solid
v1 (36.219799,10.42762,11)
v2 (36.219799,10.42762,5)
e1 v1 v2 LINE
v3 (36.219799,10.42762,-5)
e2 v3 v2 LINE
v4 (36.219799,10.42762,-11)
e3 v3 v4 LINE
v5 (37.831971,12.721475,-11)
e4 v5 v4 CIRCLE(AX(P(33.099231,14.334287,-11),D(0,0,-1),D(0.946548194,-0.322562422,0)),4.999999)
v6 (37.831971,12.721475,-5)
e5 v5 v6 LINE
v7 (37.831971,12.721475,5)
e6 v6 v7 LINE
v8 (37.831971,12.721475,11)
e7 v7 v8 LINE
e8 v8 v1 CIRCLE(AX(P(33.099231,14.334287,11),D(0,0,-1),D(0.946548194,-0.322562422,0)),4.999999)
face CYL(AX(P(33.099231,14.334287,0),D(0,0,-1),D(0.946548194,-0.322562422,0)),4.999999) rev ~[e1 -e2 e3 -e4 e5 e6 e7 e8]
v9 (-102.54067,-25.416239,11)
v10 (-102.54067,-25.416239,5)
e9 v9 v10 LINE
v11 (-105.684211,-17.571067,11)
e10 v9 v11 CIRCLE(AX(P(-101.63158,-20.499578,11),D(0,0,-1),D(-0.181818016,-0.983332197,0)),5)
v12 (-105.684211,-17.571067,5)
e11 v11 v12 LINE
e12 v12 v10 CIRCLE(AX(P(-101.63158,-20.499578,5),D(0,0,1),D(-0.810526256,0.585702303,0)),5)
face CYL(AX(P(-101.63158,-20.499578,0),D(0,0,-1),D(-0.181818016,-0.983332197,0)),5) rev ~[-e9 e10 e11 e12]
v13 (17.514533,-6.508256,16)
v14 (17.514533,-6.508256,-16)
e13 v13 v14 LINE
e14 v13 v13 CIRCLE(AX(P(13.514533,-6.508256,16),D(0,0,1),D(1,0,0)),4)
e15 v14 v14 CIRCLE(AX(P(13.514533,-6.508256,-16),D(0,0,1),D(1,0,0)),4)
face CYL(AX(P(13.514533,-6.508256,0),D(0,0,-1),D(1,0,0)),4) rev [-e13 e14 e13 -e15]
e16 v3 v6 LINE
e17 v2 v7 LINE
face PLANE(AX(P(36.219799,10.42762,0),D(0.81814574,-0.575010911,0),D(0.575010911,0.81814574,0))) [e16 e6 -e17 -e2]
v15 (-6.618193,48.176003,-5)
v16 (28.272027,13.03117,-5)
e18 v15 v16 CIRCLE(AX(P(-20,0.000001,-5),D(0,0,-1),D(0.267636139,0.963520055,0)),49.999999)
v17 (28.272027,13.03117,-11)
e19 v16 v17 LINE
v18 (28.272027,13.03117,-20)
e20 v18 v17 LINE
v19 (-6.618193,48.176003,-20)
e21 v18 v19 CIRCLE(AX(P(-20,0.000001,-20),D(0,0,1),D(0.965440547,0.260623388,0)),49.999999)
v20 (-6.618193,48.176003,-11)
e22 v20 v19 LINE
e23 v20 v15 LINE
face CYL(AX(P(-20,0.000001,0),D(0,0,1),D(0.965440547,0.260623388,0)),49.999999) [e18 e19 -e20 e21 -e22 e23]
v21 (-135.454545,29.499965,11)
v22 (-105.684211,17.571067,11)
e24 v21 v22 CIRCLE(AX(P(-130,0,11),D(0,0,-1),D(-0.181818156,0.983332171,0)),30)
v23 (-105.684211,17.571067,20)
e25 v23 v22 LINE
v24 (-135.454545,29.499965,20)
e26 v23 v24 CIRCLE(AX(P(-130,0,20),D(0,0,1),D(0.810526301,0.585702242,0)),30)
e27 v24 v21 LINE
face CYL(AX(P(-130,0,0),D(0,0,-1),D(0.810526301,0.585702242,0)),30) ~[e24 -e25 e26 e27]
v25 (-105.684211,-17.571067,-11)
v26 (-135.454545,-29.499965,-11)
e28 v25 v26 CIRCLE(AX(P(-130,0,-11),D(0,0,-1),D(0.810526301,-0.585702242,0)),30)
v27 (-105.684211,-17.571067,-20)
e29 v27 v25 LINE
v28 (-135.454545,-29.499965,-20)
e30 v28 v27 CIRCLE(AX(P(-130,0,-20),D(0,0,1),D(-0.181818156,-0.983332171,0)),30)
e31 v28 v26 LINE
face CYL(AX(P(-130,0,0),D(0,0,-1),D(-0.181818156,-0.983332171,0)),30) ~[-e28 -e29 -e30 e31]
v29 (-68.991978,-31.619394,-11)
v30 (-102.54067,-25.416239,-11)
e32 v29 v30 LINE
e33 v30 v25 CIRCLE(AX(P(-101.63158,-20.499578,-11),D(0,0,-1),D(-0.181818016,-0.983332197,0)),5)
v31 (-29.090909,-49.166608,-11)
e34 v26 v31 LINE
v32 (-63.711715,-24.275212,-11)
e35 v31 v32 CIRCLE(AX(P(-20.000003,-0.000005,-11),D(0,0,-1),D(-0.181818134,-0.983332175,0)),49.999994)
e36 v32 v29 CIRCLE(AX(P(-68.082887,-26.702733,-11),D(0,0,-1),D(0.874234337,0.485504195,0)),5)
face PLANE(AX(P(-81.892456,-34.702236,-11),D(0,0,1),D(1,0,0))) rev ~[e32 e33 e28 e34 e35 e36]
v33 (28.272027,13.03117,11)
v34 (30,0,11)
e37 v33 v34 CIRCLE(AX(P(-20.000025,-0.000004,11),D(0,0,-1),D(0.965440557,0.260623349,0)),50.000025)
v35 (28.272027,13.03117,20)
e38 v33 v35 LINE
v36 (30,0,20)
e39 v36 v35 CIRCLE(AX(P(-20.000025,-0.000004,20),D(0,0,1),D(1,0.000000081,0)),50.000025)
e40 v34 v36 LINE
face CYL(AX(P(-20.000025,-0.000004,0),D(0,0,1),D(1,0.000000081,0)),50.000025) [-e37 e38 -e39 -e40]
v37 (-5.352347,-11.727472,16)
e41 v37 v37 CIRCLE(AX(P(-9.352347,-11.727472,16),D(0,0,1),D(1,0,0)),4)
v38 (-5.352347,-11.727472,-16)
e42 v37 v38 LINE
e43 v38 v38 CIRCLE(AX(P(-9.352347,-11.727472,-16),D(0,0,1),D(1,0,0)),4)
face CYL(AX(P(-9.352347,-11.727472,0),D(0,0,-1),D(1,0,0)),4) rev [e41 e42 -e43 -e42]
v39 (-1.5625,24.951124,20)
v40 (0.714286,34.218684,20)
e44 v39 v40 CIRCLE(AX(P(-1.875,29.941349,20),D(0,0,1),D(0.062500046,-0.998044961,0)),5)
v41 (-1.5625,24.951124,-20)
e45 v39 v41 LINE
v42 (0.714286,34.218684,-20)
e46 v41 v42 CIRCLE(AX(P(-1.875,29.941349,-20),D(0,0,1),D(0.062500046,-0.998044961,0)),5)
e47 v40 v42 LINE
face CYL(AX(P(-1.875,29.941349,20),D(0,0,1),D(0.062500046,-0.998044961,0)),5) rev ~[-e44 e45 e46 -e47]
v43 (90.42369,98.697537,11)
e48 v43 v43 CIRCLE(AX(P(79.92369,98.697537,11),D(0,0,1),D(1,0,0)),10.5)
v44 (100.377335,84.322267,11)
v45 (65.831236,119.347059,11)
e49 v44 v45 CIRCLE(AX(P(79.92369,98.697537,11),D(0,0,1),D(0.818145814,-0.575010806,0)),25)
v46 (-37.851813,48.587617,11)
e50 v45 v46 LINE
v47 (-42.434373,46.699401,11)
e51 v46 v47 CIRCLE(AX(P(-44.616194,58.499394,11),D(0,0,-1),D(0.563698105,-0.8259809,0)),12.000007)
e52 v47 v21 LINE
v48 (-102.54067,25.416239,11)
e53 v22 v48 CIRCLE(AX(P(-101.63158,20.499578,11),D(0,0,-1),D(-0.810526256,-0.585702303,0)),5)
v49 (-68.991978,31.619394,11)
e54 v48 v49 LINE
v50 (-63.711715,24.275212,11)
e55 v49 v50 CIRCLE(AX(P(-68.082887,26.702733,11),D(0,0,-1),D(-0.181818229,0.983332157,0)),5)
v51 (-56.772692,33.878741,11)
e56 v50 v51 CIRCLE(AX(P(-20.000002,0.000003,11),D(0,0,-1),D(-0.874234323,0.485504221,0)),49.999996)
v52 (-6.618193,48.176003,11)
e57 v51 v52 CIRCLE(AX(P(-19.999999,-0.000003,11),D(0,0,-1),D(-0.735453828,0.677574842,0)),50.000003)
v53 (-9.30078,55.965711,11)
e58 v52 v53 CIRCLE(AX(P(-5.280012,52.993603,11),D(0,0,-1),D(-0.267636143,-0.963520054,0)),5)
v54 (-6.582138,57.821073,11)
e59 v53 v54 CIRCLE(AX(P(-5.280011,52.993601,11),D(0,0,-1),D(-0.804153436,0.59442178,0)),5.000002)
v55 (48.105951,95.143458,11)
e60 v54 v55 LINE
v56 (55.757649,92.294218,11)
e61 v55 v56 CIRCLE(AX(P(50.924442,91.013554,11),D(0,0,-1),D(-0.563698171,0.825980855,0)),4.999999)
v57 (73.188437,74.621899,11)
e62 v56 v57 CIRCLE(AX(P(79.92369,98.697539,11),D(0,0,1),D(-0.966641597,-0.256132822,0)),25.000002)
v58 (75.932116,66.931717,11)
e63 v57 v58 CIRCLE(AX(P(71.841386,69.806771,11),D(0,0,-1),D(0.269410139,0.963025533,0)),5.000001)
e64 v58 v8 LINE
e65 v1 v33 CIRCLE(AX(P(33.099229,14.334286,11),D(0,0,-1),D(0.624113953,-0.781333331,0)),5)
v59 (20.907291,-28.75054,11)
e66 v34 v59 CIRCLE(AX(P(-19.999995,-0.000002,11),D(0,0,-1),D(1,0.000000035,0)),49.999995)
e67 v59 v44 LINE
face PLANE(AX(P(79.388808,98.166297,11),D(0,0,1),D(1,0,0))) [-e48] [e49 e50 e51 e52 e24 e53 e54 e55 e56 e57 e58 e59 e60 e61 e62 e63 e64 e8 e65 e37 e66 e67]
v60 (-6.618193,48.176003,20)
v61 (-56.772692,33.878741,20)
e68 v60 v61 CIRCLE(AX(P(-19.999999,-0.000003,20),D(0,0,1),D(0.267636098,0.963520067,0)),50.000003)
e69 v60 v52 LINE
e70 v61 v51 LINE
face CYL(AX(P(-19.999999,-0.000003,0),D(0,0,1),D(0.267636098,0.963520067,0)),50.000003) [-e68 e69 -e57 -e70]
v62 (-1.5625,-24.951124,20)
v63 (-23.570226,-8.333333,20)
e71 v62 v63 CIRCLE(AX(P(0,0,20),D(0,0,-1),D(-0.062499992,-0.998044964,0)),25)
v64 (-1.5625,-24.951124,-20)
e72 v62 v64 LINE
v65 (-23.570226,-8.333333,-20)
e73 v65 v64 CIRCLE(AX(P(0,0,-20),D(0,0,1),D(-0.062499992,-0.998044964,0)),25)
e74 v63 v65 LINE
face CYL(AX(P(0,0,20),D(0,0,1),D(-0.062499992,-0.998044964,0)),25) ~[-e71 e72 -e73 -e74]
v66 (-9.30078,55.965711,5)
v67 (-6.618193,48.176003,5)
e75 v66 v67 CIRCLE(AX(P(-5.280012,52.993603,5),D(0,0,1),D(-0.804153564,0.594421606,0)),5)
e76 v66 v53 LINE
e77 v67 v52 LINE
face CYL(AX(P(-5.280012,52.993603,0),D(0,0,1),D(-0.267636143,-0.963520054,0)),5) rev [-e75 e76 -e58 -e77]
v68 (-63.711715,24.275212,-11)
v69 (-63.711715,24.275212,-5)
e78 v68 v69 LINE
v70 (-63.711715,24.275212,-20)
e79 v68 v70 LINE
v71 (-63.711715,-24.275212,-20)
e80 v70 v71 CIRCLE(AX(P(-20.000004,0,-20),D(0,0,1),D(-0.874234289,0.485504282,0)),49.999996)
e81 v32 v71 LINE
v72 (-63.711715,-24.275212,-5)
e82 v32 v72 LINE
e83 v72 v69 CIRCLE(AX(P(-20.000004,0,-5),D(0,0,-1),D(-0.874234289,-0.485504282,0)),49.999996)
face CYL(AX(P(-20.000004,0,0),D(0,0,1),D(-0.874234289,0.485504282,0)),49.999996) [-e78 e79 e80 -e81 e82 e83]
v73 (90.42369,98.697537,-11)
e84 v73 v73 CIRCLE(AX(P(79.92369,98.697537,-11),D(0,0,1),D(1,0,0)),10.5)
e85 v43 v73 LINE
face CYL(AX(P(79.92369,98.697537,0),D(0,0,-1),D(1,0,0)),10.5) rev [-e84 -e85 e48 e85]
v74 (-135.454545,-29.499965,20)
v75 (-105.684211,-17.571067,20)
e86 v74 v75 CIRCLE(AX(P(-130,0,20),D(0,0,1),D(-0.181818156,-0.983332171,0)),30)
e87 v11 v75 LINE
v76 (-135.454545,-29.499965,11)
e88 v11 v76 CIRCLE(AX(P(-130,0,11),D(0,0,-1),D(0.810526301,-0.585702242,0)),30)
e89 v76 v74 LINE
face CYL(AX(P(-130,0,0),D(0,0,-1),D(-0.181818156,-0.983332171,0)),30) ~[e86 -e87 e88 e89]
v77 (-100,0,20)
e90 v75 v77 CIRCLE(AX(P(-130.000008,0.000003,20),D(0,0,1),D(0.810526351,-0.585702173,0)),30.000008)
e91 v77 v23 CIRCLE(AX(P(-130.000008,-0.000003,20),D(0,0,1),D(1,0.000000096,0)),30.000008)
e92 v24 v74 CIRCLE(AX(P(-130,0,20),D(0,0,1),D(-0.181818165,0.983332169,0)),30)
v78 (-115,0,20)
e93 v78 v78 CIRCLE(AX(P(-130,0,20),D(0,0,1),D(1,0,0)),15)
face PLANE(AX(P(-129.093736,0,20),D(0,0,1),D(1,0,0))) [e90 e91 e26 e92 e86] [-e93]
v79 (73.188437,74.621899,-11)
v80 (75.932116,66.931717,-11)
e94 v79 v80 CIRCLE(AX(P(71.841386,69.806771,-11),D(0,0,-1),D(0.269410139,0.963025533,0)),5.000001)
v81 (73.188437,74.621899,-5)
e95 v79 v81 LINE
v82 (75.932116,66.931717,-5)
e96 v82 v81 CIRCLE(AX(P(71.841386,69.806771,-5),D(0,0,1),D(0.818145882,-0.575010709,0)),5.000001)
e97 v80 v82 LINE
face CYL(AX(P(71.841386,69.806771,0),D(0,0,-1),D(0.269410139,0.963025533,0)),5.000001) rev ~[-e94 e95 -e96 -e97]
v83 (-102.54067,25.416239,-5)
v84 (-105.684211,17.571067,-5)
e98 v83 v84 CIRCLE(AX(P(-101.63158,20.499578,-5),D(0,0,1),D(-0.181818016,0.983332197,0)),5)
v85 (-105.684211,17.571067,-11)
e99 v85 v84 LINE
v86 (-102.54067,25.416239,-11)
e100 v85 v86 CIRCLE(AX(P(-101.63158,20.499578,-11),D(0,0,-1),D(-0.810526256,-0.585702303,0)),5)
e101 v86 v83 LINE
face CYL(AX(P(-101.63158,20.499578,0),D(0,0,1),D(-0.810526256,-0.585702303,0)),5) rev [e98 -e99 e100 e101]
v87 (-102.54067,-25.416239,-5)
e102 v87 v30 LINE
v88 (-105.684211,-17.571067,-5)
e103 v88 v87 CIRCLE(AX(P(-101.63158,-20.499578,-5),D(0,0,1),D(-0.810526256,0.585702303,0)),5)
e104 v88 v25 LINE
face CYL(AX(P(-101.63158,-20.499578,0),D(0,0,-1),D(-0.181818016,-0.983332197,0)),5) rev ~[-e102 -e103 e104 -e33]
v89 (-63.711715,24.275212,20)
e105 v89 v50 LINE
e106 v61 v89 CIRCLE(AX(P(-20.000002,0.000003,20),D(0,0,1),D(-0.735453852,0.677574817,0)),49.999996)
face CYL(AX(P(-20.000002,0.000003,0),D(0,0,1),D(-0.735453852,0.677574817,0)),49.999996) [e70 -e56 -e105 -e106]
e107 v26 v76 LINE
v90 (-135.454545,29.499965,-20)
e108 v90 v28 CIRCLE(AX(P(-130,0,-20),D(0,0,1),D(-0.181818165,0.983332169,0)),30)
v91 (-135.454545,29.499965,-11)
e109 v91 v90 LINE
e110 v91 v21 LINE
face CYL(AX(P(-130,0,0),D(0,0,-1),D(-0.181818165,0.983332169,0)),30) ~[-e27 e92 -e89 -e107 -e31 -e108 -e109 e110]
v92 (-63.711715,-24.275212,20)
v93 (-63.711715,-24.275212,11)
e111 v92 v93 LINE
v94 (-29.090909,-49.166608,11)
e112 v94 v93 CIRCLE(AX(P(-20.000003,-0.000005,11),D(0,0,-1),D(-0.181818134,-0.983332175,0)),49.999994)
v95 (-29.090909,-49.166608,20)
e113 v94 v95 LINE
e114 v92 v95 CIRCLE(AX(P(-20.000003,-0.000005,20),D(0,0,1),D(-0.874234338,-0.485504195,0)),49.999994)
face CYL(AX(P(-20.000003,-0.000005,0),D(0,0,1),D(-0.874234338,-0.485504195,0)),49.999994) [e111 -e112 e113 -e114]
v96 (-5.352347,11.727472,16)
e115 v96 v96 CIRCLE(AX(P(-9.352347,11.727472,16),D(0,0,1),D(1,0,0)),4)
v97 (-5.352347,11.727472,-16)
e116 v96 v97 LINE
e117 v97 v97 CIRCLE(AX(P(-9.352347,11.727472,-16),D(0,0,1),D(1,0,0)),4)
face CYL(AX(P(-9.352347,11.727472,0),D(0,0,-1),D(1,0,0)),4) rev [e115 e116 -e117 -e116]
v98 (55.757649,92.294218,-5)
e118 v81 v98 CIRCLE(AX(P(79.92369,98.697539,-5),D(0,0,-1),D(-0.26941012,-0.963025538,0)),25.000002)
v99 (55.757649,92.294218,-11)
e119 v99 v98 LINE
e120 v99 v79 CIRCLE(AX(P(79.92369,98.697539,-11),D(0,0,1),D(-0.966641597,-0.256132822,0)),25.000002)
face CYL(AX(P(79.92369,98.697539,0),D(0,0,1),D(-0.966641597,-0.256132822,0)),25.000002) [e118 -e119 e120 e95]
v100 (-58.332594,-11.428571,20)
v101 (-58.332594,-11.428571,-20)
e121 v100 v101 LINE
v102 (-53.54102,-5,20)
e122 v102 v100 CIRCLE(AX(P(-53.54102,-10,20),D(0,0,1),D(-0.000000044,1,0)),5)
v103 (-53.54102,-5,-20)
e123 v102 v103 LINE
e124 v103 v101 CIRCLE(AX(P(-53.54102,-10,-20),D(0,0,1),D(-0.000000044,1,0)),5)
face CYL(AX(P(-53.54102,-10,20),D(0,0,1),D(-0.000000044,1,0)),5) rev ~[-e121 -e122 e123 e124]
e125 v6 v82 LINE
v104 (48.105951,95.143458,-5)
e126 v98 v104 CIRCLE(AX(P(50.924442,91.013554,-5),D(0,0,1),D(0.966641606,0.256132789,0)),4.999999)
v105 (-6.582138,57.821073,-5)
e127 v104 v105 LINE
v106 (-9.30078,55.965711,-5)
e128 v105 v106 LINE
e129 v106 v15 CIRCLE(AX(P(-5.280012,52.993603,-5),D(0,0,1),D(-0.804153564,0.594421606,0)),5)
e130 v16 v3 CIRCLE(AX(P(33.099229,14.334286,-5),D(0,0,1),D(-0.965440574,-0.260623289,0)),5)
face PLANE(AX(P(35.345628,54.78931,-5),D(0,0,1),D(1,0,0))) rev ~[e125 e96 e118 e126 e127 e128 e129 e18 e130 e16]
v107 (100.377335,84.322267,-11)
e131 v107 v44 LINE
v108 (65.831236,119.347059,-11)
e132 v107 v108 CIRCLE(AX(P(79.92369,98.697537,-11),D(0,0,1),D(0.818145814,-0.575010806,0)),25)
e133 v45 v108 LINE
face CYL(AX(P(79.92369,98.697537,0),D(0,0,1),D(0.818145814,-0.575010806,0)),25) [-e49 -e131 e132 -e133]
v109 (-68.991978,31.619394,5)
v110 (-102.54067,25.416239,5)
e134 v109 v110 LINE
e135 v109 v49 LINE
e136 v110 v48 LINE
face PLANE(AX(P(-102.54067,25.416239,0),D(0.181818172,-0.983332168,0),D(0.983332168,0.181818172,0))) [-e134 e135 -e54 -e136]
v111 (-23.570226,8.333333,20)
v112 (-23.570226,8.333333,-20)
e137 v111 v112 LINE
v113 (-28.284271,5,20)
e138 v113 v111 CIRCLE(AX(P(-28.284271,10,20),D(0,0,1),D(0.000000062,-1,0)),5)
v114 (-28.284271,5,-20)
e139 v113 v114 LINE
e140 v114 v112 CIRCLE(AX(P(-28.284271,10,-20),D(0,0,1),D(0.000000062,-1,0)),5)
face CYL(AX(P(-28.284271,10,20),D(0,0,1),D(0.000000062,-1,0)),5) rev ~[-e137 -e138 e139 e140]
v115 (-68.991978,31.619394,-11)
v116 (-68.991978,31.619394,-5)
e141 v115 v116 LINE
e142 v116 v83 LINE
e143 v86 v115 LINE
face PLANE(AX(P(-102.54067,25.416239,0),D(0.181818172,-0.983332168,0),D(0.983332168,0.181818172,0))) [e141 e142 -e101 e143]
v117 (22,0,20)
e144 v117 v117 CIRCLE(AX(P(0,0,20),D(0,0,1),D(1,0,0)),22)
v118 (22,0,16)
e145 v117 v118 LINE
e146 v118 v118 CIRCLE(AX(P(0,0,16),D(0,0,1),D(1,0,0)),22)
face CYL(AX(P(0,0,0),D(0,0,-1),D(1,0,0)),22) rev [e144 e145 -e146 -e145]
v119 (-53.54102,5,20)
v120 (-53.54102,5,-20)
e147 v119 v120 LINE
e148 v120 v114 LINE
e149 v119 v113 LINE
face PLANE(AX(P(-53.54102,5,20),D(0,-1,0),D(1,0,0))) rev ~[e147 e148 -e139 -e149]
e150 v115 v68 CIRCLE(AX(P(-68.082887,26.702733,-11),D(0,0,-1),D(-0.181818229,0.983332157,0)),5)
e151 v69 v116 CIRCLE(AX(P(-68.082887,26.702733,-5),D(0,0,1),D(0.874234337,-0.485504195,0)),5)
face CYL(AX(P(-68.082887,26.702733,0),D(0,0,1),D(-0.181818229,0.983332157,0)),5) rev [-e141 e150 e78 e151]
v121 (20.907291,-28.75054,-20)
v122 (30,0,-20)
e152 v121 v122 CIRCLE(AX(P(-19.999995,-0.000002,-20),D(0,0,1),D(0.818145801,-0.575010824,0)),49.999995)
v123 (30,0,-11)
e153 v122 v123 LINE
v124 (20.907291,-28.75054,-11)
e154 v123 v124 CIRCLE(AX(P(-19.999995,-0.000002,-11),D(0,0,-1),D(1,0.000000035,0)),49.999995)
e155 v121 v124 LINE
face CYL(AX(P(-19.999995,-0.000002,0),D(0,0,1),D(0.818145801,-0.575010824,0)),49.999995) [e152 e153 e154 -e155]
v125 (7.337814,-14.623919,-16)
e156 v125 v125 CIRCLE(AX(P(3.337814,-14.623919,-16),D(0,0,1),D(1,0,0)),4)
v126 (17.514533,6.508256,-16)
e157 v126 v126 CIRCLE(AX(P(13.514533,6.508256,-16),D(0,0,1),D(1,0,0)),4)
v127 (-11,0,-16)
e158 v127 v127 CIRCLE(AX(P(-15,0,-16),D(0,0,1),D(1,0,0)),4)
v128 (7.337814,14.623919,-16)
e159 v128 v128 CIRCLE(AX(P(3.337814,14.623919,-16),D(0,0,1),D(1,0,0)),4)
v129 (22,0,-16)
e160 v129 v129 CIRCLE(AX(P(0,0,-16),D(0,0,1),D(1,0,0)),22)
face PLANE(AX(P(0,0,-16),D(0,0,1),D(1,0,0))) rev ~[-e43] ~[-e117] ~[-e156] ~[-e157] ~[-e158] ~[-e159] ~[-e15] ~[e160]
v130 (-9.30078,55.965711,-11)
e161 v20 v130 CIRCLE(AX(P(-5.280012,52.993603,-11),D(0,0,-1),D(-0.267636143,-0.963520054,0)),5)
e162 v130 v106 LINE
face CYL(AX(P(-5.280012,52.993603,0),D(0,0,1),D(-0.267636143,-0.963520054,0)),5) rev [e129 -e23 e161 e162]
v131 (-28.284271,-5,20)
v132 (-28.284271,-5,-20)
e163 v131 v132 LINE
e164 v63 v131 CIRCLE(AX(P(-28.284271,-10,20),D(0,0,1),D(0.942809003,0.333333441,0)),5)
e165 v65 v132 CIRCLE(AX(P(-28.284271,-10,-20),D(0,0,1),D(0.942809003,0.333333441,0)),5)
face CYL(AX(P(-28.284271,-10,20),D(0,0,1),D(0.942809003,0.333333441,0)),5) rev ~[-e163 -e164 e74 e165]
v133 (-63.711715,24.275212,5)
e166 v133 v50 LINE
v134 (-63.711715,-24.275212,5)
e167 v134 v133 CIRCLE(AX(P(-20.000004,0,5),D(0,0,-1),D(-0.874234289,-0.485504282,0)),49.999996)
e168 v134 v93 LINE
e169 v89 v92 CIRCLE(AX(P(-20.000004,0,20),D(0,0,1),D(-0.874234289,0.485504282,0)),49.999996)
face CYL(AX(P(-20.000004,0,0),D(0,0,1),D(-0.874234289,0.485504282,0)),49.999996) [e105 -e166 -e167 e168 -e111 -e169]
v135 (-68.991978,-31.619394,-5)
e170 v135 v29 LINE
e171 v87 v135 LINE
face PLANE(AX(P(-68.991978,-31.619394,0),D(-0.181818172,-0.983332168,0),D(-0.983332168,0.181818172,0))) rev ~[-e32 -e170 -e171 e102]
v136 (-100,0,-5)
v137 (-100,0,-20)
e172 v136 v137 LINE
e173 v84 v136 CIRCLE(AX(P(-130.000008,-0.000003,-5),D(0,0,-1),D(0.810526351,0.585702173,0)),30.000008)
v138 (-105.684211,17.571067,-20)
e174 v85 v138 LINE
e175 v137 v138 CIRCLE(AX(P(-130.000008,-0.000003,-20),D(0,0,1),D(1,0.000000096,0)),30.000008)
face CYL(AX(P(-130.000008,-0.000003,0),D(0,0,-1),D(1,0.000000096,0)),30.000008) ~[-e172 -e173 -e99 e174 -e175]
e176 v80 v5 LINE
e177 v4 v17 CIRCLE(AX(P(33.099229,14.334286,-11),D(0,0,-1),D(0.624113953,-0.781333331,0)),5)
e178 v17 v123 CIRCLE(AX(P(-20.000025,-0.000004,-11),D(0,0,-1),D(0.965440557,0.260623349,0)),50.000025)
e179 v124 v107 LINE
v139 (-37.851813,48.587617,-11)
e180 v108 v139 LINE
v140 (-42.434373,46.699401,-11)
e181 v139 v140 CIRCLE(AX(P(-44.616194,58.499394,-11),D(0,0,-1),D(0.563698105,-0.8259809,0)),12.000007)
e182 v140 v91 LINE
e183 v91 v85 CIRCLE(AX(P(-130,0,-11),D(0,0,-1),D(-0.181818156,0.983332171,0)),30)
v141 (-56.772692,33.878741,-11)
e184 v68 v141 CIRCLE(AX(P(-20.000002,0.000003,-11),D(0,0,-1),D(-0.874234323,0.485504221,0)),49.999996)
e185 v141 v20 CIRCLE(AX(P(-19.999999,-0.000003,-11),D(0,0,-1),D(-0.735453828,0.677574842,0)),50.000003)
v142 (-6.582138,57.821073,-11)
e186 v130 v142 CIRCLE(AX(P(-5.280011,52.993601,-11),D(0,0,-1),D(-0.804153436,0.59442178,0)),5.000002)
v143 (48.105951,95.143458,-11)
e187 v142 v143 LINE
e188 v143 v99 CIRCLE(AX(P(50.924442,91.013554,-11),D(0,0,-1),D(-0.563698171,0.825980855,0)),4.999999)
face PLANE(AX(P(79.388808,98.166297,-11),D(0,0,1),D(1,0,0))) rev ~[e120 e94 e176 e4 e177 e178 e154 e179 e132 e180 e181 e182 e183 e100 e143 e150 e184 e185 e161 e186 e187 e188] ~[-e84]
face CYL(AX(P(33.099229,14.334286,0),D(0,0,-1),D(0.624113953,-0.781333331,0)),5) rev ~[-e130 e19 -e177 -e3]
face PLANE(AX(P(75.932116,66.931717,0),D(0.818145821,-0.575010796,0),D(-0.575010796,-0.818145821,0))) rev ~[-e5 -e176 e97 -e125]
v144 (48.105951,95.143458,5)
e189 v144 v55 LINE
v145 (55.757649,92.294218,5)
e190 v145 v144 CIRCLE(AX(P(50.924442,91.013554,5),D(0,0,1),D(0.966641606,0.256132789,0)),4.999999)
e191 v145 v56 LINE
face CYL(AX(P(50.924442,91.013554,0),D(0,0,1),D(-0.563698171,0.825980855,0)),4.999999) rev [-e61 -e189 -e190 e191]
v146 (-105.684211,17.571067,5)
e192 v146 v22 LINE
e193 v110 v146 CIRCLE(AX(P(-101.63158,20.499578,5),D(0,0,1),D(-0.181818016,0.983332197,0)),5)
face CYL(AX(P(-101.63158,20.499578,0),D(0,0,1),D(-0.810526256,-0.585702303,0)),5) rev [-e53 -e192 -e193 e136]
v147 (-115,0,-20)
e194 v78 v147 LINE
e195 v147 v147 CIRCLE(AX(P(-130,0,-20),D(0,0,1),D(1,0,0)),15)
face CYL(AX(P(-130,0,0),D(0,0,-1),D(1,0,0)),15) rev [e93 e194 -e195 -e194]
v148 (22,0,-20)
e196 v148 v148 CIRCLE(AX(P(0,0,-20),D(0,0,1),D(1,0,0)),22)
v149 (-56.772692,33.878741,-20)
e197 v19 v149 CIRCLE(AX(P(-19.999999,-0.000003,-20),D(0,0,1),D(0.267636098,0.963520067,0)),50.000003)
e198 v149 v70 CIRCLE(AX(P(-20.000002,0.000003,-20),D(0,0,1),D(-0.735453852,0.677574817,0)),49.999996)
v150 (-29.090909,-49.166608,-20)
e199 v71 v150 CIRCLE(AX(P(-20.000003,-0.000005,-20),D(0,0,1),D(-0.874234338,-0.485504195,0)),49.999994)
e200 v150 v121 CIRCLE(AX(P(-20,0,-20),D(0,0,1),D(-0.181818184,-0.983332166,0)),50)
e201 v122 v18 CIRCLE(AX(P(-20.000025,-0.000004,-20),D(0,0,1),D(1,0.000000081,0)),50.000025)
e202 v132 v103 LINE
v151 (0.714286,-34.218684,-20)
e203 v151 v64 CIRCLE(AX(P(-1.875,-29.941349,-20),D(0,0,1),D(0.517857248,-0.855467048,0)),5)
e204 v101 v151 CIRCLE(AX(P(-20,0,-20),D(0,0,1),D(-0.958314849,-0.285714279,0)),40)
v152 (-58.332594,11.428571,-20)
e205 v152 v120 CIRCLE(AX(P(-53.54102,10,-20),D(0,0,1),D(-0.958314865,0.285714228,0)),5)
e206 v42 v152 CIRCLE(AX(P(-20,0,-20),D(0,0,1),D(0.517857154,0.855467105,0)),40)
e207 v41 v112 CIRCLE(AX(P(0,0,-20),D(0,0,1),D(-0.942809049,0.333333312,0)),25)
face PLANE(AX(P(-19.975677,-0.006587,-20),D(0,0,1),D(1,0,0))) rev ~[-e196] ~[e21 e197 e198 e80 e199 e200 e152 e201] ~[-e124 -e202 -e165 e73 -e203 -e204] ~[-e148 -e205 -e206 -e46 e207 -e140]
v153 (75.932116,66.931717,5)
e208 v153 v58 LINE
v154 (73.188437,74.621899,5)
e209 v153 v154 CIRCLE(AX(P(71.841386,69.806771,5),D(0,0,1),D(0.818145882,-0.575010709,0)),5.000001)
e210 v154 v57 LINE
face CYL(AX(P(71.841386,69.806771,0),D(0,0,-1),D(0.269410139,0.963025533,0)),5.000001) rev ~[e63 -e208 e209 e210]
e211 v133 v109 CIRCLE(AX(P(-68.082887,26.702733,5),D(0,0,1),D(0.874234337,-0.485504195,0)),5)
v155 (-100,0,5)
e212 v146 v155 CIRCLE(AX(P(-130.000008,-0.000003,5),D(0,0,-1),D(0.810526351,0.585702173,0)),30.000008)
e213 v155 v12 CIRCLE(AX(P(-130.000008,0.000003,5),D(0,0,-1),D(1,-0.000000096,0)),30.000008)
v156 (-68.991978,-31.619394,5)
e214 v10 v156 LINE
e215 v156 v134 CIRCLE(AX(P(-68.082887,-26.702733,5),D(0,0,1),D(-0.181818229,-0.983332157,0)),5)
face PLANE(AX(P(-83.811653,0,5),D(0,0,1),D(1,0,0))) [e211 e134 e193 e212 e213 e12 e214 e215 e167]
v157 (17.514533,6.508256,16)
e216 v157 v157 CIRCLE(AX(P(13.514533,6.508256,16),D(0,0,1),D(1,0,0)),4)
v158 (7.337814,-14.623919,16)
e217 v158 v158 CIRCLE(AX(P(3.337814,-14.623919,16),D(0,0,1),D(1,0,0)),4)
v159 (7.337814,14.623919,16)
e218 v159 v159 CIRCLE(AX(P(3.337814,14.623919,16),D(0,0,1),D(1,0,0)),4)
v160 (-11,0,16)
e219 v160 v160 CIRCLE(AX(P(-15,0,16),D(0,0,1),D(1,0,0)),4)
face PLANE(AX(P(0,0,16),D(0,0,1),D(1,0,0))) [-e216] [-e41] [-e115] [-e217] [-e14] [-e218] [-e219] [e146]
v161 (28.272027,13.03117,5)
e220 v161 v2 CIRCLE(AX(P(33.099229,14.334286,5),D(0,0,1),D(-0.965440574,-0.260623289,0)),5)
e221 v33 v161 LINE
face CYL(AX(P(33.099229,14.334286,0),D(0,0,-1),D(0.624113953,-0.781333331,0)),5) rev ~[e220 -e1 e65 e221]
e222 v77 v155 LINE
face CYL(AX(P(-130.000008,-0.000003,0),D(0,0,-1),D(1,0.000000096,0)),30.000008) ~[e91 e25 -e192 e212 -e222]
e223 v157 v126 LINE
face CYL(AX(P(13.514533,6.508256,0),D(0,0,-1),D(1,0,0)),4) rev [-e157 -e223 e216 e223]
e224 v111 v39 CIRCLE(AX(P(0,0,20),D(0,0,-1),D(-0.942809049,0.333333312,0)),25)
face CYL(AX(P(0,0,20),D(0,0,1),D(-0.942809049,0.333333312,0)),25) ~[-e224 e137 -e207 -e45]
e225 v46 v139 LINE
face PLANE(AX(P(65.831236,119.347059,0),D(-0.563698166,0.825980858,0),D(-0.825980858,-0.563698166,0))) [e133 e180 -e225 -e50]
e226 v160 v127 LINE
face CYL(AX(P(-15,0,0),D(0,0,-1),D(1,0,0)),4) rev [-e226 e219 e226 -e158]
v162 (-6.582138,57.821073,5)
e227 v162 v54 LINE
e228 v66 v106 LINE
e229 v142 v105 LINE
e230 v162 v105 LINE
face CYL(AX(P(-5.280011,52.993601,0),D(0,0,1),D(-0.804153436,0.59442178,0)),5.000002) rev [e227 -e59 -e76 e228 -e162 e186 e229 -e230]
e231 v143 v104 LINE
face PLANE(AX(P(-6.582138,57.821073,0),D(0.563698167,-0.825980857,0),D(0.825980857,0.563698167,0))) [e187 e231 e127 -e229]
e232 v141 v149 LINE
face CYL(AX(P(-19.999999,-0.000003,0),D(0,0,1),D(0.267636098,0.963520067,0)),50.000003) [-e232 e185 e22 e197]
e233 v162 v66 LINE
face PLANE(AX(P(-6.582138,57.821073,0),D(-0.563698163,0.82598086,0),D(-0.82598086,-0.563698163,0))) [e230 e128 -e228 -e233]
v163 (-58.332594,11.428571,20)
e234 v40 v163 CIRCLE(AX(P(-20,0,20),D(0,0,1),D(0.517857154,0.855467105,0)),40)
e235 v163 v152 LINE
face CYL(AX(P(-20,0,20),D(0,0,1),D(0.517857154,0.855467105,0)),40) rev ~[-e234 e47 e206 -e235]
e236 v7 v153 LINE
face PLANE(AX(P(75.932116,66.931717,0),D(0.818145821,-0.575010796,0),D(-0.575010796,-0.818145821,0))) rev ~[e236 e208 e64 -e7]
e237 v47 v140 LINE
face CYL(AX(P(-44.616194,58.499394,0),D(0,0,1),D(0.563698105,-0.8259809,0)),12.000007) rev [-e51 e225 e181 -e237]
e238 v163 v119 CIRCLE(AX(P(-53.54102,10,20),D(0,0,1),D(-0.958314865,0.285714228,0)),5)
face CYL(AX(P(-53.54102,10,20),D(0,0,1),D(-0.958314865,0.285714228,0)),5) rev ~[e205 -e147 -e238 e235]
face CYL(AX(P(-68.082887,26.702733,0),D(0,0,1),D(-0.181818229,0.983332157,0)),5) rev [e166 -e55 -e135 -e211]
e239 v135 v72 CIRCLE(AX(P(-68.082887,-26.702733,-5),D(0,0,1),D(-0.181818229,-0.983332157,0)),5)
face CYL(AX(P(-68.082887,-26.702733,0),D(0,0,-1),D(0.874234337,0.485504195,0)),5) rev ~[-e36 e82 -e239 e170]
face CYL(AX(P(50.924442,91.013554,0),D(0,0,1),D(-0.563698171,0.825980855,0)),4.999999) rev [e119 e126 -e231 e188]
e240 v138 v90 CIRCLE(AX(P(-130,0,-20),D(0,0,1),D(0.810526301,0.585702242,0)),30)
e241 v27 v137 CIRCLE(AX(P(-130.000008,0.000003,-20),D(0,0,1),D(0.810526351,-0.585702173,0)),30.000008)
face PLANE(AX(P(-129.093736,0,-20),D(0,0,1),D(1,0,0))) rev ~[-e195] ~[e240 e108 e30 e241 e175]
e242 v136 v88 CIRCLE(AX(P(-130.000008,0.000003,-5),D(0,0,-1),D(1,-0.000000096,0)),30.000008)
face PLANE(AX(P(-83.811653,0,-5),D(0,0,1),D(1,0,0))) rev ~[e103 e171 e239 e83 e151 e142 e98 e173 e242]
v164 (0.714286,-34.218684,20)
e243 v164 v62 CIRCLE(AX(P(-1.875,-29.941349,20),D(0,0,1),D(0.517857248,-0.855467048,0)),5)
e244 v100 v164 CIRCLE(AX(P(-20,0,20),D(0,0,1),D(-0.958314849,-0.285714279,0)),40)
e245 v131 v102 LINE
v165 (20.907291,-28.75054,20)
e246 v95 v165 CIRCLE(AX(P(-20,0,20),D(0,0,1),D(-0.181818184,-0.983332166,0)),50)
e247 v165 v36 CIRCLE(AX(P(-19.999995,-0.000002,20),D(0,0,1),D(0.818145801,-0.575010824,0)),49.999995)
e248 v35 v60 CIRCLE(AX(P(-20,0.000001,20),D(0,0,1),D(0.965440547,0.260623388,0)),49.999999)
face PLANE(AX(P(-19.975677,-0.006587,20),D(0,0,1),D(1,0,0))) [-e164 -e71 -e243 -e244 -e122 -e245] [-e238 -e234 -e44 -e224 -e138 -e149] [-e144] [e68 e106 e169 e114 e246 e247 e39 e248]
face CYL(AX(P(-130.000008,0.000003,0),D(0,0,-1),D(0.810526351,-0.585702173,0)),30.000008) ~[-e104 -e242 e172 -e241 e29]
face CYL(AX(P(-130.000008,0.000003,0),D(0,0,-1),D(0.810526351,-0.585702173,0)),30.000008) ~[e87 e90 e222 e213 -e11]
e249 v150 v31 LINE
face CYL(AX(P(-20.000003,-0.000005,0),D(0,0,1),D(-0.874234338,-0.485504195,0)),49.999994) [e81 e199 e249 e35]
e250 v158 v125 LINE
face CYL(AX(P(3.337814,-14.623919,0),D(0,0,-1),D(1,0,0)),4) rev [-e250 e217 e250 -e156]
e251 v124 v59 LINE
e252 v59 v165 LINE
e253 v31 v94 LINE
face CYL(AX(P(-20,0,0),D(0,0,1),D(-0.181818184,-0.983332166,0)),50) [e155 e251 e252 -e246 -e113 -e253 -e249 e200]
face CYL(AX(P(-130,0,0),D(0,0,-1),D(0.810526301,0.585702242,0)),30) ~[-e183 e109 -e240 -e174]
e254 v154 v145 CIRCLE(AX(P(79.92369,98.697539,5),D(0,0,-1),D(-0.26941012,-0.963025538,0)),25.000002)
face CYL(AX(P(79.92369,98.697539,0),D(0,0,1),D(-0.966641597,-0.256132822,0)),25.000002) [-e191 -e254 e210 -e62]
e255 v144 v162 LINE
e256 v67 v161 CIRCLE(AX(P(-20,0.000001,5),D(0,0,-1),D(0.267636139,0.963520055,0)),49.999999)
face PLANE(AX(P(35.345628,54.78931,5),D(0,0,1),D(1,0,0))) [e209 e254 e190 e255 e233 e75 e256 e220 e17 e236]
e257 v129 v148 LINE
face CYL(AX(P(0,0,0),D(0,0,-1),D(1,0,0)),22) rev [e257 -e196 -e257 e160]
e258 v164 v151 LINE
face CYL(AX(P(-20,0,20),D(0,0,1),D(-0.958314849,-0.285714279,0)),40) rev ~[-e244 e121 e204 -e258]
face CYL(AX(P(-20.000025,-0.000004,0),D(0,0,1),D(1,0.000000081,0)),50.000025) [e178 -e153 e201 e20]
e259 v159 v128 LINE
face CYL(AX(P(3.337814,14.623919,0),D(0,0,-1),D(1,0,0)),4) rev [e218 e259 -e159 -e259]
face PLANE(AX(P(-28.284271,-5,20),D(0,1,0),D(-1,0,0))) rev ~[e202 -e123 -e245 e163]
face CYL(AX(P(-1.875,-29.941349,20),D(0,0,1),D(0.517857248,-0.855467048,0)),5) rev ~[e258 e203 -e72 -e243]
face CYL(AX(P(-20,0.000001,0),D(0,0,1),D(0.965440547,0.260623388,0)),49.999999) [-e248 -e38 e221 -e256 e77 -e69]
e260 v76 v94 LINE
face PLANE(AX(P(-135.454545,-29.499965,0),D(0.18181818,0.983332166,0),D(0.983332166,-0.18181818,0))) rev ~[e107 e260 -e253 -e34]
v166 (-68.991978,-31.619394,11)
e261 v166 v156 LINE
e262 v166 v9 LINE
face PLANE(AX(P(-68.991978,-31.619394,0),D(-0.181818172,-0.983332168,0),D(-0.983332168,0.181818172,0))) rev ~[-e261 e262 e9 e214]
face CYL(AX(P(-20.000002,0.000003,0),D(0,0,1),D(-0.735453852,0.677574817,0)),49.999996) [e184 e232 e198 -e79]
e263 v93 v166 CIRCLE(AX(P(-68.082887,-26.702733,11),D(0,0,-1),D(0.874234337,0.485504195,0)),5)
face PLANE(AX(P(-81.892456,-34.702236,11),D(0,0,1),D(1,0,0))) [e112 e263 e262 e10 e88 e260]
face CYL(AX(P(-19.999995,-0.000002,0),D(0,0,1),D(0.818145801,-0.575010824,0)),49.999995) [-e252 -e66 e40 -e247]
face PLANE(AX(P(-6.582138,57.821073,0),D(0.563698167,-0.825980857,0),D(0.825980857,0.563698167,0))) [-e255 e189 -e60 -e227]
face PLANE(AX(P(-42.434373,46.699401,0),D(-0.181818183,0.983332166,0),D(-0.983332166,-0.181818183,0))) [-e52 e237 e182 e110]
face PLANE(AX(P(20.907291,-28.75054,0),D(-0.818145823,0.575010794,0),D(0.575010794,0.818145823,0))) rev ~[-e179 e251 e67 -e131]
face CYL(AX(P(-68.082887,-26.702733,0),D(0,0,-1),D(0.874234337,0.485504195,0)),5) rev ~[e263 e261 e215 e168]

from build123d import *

# Parameters (mm, degrees)
F1_DEPTH = 11
F2_DEPTH = 5
F0_R     = 10.5
F3_DEPTH = 11
F0_R_2   = 15
F0_R_3   = 22
F4_DEPTH = 20
F6_DEPTH = 40.001
F0_R_4   = 4
F7_DEPTH = 16


with BuildPart() as f1:
    # F0 (on Top) → F1 (new body, symmetric)
    with BuildSketch(Plane.XY):
        with BuildLine():
            ThreePointArc((30, 0), (27.672658, -15.077059), (20.907291, -28.75054))
            Line((20.907291, -28.75054), (100.377335, 84.322267))
            ThreePointArc((100.377335, 84.322267), (91.78917, 76.692756), (80.695661, 73.709459))
            ThreePointArc((80.695661, 73.709459), (76.907348, 73.880171), (73.188437, 74.621899))
            ThreePointArc((73.188437, 74.621899), (76.550642, 71.486924), (75.932116, 66.931717))
            Line((75.932116, 66.931717), (37.831971, 12.721475))
            ThreePointArc((37.831971, 12.721475), (37.189959, 11.459233), (36.219799, 10.42762))
            ThreePointArc((36.219799, 10.42762), (31.542706, 9.582736), (28.272027, 13.03117))
            ThreePointArc((28.272027, 13.03117), (29.566124, 6.572619), (30, 0))
        make_face()
        with BuildLine():
            ThreePointArc((-105.684211, -17.571067), (-118.841538, -27.847598), (-135.454545, -29.499965))
            Line((-135.454545, -29.499965), (-29.090909, -49.166608))
            ThreePointArc((-29.090909, -49.166608), (-49.187749, -40.596494), (-63.711715, -24.275212))
            ThreePointArc((-63.711715, -24.275212), (-64.023238, -29.621509), (-68.991978, -31.619394))
            Line((-68.991978, -31.619394), (-102.54067, -25.416239))
            ThreePointArc((-102.54067, -25.416239), (-106.272846, -22.359322), (-105.684211, -17.571067))
        make_face()
        with BuildLine():
            Line((-42.434373, 46.699401), (-135.454545, 29.499965))
            ThreePointArc((-135.454545, 29.499965), (-118.841538, 27.847598), (-105.684211, 17.571067))
            ThreePointArc((-105.684211, 17.571067), (-106.272846, 22.359322), (-102.54067, 25.416239))
            Line((-102.54067, 25.416239), (-68.991978, 31.619394))
            ThreePointArc((-68.991978, 31.619394), (-64.023238, 29.621509), (-63.711715, 24.275212))
            ThreePointArc((-63.711715, 24.275212), (-60.527668, 29.283239), (-56.772692, 33.878741))
            ThreePointArc((-56.772692, 33.878741), (-33.707162, 48.084443), (-6.618193, 48.176003))
            ThreePointArc((-6.618193, 48.176003), (-10.007535, 51.365559), (-9.30078, 55.965711))
            ThreePointArc((-9.30078, 55.965711), (-8.098503, 57.123507), (-6.582138, 57.821073))
            Line((-6.582138, 57.821073), (48.105951, 95.143458))
            ThreePointArc((48.105951, 95.143458), (52.669238, 95.699243), (55.757649, 92.294218))
            ThreePointArc((55.757649, 92.294218), (55.098399, 95.747126), (54.929981, 99.258368))
            ThreePointArc((54.929981, 99.258368), (57.950504, 110.621425), (65.831236, 119.347059))
            Line((65.831236, 119.347059), (-37.851813, 48.587617))
            ThreePointArc((-37.851813, 48.587617), (-40.044545, 47.404341), (-42.434373, 46.699401))
        make_face()
    extrude(amount=F1_DEPTH, both=True)



with BuildPart() as f2:
    # F0 (on Top) → F2 (new body, symmetric)
    with BuildSketch(Plane.XY):
        with BuildLine():
            ThreePointArc((-100, 0), (-101.456405, -9.233805), (-105.684211, -17.571067))
            ThreePointArc((-105.684211, -17.571067), (-106.272846, -22.359322), (-102.54067, -25.416239))
            Line((-102.54067, -25.416239), (-68.991978, -31.619394))
            ThreePointArc((-68.991978, -31.619394), (-64.023238, -29.621509), (-63.711715, -24.275212))
            ThreePointArc((-63.711715, -24.275212), (-70, 0), (-63.711715, 24.275212))
            ThreePointArc((-63.711715, 24.275212), (-64.023238, 29.621509), (-68.991978, 31.619394))
            Line((-68.991978, 31.619394), (-102.54067, 25.416239))
            ThreePointArc((-102.54067, 25.416239), (-106.272846, 22.359322), (-105.684211, 17.571067))
            ThreePointArc((-105.684211, 17.571067), (-101.456405, 9.233805), (-100, 0))
        make_face()
        with BuildLine():
            ThreePointArc((-6.618193, 48.176003), (15.483639, 35.226572), (28.272027, 13.03117))
            ThreePointArc((28.272027, 13.03117), (31.542706, 9.582736), (36.219799, 10.42762))
            Line((36.219799, 10.42762), (37.831971, 12.721475))
            Line((37.831971, 12.721475), (75.932116, 66.931717))
            ThreePointArc((75.932116, 66.931717), (76.550642, 71.486924), (73.188437, 74.621899))
            ThreePointArc((73.188437, 74.621899), (62.124808, 81.141917), (55.757649, 92.294218))
            ThreePointArc((55.757649, 92.294218), (52.669238, 95.699243), (48.105951, 95.143458))
            Line((48.105951, 95.143458), (-6.582138, 57.821073))
            Line((-6.582138, 57.821073), (-9.30078, 55.965711))
            ThreePointArc((-9.30078, 55.965711), (-10.007535, 51.365559), (-6.618193, 48.176003))
        make_face()
    extrude(amount=F2_DEPTH, both=True)


with BuildPart() as f1_1:
    add(f1.part)

    add(f2.part)  # F3 merges F2
    # F0 (on Top) → F3 (join, symmetric)
    with BuildSketch(Plane.XY):
        with BuildLine():
            ThreePointArc((80.695661, 73.709459), (91.78917, 76.692756), (100.377335, 84.322267))
            ThreePointArc((100.377335, 84.322267), (97.722572, 116.253157), (65.831236, 119.347059))
            ThreePointArc((65.831236, 119.347059), (57.950504, 110.621425), (54.929981, 99.258368))
            ThreePointArc((54.929981, 99.258368), (55.098399, 95.747126), (55.757649, 92.294218))
            ThreePointArc((55.757649, 92.294218), (62.124808, 81.141917), (73.188437, 74.621899))
            ThreePointArc((73.188437, 74.621899), (76.907348, 73.880171), (80.695661, 73.709459))
        make_face()
        with Locations((79.92369, 98.697537)):
            Circle(F0_R, mode=Mode.SUBTRACT)
    extrude(amount=F3_DEPTH, both=True)

    # F0 (on Top) → F4 (join, symmetric)
    with BuildSketch(Plane.XY):
        with BuildLine():
            ThreePointArc((-135.454545, 29.499965), (-160, 0), (-135.454545, -29.499965))
            ThreePointArc((-135.454545, -29.499965), (-118.841538, -27.847598), (-105.684211, -17.571067))
            ThreePointArc((-105.684211, -17.571067), (-101.456405, -9.233805), (-100, 0))
            ThreePointArc((-100, 0), (-101.456405, 9.233805), (-105.684211, 17.571067))
            ThreePointArc((-105.684211, 17.571067), (-118.841538, 27.847598), (-135.454545, 29.499965))
        make_face()
        with Locations((-130, 0)):
            Circle(F0_R_2, mode=Mode.SUBTRACT)
        with BuildLine():
            ThreePointArc((-63.711715, -24.275212), (-49.187749, -40.596494), (-29.090909, -49.166608))
            ThreePointArc((-29.090909, -49.166608), (-1.098294, -46.289583), (20.907291, -28.75054))
            ThreePointArc((20.907291, -28.75054), (27.672658, -15.077059), (30, 0))
            ThreePointArc((30, 0), (29.566124, 6.572619), (28.272027, 13.03117))
            ThreePointArc((28.272027, 13.03117), (15.483639, 35.226572), (-6.618193, 48.176003))
            ThreePointArc((-6.618193, 48.176003), (-33.707162, 48.084443), (-56.772692, 33.878741))
            ThreePointArc((-56.772692, 33.878741), (-60.527668, 29.283239), (-63.711715, 24.275212))
            ThreePointArc((-63.711715, 24.275212), (-70, 0), (-63.711715, -24.275212))
        make_face()
        Circle(F0_R_3, mode=Mode.SUBTRACT)
    extrude(amount=F4_DEPTH, both=True)

    # F5 (on face) → F6 (cut, through all)
    with BuildSketch(Plane.XY.offset(20)):
        with BuildLine():
            ThreePointArc((-1.5625, 24.951124), (2.980616, 28.748457), (0.714286, 34.218684))
            ThreePointArc((0.714286, 34.218684), (-34.403073, 37.316906), (-58.332594, 11.428571))
            ThreePointArc((-58.332594, 11.428571), (-57.549938, 7.011928), (-53.54102, 5))
            Line((-53.54102, 5), (-28.284271, 5))
            ThreePointArc((-28.284271, 5), (-25.39752, 5.917517), (-23.570226, 8.333333))
            ThreePointArc((-23.570226, 8.333333), (-15.0649, 19.95116), (-1.5625, 24.951124))
        make_face()
        with BuildLine():
            ThreePointArc((-23.570226, -8.333333), (-25.39752, -5.917517), (-28.284271, -5))
            Line((-28.284271, -5), (-53.54102, -5))
            ThreePointArc((-53.54102, -5), (-57.549938, -7.011928), (-58.332594, -11.428571))
            ThreePointArc((-58.332594, -11.428571), (-34.403073, -37.316906), (0.714286, -34.218684))
            ThreePointArc((0.714286, -34.218684), (2.980616, -28.748457), (-1.5625, -24.951124))
            ThreePointArc((-1.5625, -24.951124), (-15.0649, -19.95116), (-23.570226, -8.333333))
        make_face()
    extrude(amount=-F6_DEPTH, mode=Mode.SUBTRACT)

    # F0 (on Top) → F7 (join, symmetric)
    with BuildSketch(Plane.XY):
        Circle(F0_R_3)
        with Locations((3.337814, -14.623919)):
            Circle(F0_R_4, mode=Mode.SUBTRACT)
        with Locations((-9.352347, -11.727472)):
            Circle(F0_R_4, mode=Mode.SUBTRACT)
        with Locations((-15, 0)):
            Circle(F0_R_4, mode=Mode.SUBTRACT)
        with Locations((-9.352347, 11.727472)):
            Circle(F0_R_4, mode=Mode.SUBTRACT)
        with Locations((3.337814, 14.623919)):
            Circle(F0_R_4, mode=Mode.SUBTRACT)
        with Locations((13.514533, -6.508256)):
            Circle(F0_R_4, mode=Mode.SUBTRACT)
        with Locations((13.514533, 6.508256)):
            Circle(F0_R_4, mode=Mode.SUBTRACT)
    extrude(amount=F7_DEPTH, both=True)


solid = f1_1.part
